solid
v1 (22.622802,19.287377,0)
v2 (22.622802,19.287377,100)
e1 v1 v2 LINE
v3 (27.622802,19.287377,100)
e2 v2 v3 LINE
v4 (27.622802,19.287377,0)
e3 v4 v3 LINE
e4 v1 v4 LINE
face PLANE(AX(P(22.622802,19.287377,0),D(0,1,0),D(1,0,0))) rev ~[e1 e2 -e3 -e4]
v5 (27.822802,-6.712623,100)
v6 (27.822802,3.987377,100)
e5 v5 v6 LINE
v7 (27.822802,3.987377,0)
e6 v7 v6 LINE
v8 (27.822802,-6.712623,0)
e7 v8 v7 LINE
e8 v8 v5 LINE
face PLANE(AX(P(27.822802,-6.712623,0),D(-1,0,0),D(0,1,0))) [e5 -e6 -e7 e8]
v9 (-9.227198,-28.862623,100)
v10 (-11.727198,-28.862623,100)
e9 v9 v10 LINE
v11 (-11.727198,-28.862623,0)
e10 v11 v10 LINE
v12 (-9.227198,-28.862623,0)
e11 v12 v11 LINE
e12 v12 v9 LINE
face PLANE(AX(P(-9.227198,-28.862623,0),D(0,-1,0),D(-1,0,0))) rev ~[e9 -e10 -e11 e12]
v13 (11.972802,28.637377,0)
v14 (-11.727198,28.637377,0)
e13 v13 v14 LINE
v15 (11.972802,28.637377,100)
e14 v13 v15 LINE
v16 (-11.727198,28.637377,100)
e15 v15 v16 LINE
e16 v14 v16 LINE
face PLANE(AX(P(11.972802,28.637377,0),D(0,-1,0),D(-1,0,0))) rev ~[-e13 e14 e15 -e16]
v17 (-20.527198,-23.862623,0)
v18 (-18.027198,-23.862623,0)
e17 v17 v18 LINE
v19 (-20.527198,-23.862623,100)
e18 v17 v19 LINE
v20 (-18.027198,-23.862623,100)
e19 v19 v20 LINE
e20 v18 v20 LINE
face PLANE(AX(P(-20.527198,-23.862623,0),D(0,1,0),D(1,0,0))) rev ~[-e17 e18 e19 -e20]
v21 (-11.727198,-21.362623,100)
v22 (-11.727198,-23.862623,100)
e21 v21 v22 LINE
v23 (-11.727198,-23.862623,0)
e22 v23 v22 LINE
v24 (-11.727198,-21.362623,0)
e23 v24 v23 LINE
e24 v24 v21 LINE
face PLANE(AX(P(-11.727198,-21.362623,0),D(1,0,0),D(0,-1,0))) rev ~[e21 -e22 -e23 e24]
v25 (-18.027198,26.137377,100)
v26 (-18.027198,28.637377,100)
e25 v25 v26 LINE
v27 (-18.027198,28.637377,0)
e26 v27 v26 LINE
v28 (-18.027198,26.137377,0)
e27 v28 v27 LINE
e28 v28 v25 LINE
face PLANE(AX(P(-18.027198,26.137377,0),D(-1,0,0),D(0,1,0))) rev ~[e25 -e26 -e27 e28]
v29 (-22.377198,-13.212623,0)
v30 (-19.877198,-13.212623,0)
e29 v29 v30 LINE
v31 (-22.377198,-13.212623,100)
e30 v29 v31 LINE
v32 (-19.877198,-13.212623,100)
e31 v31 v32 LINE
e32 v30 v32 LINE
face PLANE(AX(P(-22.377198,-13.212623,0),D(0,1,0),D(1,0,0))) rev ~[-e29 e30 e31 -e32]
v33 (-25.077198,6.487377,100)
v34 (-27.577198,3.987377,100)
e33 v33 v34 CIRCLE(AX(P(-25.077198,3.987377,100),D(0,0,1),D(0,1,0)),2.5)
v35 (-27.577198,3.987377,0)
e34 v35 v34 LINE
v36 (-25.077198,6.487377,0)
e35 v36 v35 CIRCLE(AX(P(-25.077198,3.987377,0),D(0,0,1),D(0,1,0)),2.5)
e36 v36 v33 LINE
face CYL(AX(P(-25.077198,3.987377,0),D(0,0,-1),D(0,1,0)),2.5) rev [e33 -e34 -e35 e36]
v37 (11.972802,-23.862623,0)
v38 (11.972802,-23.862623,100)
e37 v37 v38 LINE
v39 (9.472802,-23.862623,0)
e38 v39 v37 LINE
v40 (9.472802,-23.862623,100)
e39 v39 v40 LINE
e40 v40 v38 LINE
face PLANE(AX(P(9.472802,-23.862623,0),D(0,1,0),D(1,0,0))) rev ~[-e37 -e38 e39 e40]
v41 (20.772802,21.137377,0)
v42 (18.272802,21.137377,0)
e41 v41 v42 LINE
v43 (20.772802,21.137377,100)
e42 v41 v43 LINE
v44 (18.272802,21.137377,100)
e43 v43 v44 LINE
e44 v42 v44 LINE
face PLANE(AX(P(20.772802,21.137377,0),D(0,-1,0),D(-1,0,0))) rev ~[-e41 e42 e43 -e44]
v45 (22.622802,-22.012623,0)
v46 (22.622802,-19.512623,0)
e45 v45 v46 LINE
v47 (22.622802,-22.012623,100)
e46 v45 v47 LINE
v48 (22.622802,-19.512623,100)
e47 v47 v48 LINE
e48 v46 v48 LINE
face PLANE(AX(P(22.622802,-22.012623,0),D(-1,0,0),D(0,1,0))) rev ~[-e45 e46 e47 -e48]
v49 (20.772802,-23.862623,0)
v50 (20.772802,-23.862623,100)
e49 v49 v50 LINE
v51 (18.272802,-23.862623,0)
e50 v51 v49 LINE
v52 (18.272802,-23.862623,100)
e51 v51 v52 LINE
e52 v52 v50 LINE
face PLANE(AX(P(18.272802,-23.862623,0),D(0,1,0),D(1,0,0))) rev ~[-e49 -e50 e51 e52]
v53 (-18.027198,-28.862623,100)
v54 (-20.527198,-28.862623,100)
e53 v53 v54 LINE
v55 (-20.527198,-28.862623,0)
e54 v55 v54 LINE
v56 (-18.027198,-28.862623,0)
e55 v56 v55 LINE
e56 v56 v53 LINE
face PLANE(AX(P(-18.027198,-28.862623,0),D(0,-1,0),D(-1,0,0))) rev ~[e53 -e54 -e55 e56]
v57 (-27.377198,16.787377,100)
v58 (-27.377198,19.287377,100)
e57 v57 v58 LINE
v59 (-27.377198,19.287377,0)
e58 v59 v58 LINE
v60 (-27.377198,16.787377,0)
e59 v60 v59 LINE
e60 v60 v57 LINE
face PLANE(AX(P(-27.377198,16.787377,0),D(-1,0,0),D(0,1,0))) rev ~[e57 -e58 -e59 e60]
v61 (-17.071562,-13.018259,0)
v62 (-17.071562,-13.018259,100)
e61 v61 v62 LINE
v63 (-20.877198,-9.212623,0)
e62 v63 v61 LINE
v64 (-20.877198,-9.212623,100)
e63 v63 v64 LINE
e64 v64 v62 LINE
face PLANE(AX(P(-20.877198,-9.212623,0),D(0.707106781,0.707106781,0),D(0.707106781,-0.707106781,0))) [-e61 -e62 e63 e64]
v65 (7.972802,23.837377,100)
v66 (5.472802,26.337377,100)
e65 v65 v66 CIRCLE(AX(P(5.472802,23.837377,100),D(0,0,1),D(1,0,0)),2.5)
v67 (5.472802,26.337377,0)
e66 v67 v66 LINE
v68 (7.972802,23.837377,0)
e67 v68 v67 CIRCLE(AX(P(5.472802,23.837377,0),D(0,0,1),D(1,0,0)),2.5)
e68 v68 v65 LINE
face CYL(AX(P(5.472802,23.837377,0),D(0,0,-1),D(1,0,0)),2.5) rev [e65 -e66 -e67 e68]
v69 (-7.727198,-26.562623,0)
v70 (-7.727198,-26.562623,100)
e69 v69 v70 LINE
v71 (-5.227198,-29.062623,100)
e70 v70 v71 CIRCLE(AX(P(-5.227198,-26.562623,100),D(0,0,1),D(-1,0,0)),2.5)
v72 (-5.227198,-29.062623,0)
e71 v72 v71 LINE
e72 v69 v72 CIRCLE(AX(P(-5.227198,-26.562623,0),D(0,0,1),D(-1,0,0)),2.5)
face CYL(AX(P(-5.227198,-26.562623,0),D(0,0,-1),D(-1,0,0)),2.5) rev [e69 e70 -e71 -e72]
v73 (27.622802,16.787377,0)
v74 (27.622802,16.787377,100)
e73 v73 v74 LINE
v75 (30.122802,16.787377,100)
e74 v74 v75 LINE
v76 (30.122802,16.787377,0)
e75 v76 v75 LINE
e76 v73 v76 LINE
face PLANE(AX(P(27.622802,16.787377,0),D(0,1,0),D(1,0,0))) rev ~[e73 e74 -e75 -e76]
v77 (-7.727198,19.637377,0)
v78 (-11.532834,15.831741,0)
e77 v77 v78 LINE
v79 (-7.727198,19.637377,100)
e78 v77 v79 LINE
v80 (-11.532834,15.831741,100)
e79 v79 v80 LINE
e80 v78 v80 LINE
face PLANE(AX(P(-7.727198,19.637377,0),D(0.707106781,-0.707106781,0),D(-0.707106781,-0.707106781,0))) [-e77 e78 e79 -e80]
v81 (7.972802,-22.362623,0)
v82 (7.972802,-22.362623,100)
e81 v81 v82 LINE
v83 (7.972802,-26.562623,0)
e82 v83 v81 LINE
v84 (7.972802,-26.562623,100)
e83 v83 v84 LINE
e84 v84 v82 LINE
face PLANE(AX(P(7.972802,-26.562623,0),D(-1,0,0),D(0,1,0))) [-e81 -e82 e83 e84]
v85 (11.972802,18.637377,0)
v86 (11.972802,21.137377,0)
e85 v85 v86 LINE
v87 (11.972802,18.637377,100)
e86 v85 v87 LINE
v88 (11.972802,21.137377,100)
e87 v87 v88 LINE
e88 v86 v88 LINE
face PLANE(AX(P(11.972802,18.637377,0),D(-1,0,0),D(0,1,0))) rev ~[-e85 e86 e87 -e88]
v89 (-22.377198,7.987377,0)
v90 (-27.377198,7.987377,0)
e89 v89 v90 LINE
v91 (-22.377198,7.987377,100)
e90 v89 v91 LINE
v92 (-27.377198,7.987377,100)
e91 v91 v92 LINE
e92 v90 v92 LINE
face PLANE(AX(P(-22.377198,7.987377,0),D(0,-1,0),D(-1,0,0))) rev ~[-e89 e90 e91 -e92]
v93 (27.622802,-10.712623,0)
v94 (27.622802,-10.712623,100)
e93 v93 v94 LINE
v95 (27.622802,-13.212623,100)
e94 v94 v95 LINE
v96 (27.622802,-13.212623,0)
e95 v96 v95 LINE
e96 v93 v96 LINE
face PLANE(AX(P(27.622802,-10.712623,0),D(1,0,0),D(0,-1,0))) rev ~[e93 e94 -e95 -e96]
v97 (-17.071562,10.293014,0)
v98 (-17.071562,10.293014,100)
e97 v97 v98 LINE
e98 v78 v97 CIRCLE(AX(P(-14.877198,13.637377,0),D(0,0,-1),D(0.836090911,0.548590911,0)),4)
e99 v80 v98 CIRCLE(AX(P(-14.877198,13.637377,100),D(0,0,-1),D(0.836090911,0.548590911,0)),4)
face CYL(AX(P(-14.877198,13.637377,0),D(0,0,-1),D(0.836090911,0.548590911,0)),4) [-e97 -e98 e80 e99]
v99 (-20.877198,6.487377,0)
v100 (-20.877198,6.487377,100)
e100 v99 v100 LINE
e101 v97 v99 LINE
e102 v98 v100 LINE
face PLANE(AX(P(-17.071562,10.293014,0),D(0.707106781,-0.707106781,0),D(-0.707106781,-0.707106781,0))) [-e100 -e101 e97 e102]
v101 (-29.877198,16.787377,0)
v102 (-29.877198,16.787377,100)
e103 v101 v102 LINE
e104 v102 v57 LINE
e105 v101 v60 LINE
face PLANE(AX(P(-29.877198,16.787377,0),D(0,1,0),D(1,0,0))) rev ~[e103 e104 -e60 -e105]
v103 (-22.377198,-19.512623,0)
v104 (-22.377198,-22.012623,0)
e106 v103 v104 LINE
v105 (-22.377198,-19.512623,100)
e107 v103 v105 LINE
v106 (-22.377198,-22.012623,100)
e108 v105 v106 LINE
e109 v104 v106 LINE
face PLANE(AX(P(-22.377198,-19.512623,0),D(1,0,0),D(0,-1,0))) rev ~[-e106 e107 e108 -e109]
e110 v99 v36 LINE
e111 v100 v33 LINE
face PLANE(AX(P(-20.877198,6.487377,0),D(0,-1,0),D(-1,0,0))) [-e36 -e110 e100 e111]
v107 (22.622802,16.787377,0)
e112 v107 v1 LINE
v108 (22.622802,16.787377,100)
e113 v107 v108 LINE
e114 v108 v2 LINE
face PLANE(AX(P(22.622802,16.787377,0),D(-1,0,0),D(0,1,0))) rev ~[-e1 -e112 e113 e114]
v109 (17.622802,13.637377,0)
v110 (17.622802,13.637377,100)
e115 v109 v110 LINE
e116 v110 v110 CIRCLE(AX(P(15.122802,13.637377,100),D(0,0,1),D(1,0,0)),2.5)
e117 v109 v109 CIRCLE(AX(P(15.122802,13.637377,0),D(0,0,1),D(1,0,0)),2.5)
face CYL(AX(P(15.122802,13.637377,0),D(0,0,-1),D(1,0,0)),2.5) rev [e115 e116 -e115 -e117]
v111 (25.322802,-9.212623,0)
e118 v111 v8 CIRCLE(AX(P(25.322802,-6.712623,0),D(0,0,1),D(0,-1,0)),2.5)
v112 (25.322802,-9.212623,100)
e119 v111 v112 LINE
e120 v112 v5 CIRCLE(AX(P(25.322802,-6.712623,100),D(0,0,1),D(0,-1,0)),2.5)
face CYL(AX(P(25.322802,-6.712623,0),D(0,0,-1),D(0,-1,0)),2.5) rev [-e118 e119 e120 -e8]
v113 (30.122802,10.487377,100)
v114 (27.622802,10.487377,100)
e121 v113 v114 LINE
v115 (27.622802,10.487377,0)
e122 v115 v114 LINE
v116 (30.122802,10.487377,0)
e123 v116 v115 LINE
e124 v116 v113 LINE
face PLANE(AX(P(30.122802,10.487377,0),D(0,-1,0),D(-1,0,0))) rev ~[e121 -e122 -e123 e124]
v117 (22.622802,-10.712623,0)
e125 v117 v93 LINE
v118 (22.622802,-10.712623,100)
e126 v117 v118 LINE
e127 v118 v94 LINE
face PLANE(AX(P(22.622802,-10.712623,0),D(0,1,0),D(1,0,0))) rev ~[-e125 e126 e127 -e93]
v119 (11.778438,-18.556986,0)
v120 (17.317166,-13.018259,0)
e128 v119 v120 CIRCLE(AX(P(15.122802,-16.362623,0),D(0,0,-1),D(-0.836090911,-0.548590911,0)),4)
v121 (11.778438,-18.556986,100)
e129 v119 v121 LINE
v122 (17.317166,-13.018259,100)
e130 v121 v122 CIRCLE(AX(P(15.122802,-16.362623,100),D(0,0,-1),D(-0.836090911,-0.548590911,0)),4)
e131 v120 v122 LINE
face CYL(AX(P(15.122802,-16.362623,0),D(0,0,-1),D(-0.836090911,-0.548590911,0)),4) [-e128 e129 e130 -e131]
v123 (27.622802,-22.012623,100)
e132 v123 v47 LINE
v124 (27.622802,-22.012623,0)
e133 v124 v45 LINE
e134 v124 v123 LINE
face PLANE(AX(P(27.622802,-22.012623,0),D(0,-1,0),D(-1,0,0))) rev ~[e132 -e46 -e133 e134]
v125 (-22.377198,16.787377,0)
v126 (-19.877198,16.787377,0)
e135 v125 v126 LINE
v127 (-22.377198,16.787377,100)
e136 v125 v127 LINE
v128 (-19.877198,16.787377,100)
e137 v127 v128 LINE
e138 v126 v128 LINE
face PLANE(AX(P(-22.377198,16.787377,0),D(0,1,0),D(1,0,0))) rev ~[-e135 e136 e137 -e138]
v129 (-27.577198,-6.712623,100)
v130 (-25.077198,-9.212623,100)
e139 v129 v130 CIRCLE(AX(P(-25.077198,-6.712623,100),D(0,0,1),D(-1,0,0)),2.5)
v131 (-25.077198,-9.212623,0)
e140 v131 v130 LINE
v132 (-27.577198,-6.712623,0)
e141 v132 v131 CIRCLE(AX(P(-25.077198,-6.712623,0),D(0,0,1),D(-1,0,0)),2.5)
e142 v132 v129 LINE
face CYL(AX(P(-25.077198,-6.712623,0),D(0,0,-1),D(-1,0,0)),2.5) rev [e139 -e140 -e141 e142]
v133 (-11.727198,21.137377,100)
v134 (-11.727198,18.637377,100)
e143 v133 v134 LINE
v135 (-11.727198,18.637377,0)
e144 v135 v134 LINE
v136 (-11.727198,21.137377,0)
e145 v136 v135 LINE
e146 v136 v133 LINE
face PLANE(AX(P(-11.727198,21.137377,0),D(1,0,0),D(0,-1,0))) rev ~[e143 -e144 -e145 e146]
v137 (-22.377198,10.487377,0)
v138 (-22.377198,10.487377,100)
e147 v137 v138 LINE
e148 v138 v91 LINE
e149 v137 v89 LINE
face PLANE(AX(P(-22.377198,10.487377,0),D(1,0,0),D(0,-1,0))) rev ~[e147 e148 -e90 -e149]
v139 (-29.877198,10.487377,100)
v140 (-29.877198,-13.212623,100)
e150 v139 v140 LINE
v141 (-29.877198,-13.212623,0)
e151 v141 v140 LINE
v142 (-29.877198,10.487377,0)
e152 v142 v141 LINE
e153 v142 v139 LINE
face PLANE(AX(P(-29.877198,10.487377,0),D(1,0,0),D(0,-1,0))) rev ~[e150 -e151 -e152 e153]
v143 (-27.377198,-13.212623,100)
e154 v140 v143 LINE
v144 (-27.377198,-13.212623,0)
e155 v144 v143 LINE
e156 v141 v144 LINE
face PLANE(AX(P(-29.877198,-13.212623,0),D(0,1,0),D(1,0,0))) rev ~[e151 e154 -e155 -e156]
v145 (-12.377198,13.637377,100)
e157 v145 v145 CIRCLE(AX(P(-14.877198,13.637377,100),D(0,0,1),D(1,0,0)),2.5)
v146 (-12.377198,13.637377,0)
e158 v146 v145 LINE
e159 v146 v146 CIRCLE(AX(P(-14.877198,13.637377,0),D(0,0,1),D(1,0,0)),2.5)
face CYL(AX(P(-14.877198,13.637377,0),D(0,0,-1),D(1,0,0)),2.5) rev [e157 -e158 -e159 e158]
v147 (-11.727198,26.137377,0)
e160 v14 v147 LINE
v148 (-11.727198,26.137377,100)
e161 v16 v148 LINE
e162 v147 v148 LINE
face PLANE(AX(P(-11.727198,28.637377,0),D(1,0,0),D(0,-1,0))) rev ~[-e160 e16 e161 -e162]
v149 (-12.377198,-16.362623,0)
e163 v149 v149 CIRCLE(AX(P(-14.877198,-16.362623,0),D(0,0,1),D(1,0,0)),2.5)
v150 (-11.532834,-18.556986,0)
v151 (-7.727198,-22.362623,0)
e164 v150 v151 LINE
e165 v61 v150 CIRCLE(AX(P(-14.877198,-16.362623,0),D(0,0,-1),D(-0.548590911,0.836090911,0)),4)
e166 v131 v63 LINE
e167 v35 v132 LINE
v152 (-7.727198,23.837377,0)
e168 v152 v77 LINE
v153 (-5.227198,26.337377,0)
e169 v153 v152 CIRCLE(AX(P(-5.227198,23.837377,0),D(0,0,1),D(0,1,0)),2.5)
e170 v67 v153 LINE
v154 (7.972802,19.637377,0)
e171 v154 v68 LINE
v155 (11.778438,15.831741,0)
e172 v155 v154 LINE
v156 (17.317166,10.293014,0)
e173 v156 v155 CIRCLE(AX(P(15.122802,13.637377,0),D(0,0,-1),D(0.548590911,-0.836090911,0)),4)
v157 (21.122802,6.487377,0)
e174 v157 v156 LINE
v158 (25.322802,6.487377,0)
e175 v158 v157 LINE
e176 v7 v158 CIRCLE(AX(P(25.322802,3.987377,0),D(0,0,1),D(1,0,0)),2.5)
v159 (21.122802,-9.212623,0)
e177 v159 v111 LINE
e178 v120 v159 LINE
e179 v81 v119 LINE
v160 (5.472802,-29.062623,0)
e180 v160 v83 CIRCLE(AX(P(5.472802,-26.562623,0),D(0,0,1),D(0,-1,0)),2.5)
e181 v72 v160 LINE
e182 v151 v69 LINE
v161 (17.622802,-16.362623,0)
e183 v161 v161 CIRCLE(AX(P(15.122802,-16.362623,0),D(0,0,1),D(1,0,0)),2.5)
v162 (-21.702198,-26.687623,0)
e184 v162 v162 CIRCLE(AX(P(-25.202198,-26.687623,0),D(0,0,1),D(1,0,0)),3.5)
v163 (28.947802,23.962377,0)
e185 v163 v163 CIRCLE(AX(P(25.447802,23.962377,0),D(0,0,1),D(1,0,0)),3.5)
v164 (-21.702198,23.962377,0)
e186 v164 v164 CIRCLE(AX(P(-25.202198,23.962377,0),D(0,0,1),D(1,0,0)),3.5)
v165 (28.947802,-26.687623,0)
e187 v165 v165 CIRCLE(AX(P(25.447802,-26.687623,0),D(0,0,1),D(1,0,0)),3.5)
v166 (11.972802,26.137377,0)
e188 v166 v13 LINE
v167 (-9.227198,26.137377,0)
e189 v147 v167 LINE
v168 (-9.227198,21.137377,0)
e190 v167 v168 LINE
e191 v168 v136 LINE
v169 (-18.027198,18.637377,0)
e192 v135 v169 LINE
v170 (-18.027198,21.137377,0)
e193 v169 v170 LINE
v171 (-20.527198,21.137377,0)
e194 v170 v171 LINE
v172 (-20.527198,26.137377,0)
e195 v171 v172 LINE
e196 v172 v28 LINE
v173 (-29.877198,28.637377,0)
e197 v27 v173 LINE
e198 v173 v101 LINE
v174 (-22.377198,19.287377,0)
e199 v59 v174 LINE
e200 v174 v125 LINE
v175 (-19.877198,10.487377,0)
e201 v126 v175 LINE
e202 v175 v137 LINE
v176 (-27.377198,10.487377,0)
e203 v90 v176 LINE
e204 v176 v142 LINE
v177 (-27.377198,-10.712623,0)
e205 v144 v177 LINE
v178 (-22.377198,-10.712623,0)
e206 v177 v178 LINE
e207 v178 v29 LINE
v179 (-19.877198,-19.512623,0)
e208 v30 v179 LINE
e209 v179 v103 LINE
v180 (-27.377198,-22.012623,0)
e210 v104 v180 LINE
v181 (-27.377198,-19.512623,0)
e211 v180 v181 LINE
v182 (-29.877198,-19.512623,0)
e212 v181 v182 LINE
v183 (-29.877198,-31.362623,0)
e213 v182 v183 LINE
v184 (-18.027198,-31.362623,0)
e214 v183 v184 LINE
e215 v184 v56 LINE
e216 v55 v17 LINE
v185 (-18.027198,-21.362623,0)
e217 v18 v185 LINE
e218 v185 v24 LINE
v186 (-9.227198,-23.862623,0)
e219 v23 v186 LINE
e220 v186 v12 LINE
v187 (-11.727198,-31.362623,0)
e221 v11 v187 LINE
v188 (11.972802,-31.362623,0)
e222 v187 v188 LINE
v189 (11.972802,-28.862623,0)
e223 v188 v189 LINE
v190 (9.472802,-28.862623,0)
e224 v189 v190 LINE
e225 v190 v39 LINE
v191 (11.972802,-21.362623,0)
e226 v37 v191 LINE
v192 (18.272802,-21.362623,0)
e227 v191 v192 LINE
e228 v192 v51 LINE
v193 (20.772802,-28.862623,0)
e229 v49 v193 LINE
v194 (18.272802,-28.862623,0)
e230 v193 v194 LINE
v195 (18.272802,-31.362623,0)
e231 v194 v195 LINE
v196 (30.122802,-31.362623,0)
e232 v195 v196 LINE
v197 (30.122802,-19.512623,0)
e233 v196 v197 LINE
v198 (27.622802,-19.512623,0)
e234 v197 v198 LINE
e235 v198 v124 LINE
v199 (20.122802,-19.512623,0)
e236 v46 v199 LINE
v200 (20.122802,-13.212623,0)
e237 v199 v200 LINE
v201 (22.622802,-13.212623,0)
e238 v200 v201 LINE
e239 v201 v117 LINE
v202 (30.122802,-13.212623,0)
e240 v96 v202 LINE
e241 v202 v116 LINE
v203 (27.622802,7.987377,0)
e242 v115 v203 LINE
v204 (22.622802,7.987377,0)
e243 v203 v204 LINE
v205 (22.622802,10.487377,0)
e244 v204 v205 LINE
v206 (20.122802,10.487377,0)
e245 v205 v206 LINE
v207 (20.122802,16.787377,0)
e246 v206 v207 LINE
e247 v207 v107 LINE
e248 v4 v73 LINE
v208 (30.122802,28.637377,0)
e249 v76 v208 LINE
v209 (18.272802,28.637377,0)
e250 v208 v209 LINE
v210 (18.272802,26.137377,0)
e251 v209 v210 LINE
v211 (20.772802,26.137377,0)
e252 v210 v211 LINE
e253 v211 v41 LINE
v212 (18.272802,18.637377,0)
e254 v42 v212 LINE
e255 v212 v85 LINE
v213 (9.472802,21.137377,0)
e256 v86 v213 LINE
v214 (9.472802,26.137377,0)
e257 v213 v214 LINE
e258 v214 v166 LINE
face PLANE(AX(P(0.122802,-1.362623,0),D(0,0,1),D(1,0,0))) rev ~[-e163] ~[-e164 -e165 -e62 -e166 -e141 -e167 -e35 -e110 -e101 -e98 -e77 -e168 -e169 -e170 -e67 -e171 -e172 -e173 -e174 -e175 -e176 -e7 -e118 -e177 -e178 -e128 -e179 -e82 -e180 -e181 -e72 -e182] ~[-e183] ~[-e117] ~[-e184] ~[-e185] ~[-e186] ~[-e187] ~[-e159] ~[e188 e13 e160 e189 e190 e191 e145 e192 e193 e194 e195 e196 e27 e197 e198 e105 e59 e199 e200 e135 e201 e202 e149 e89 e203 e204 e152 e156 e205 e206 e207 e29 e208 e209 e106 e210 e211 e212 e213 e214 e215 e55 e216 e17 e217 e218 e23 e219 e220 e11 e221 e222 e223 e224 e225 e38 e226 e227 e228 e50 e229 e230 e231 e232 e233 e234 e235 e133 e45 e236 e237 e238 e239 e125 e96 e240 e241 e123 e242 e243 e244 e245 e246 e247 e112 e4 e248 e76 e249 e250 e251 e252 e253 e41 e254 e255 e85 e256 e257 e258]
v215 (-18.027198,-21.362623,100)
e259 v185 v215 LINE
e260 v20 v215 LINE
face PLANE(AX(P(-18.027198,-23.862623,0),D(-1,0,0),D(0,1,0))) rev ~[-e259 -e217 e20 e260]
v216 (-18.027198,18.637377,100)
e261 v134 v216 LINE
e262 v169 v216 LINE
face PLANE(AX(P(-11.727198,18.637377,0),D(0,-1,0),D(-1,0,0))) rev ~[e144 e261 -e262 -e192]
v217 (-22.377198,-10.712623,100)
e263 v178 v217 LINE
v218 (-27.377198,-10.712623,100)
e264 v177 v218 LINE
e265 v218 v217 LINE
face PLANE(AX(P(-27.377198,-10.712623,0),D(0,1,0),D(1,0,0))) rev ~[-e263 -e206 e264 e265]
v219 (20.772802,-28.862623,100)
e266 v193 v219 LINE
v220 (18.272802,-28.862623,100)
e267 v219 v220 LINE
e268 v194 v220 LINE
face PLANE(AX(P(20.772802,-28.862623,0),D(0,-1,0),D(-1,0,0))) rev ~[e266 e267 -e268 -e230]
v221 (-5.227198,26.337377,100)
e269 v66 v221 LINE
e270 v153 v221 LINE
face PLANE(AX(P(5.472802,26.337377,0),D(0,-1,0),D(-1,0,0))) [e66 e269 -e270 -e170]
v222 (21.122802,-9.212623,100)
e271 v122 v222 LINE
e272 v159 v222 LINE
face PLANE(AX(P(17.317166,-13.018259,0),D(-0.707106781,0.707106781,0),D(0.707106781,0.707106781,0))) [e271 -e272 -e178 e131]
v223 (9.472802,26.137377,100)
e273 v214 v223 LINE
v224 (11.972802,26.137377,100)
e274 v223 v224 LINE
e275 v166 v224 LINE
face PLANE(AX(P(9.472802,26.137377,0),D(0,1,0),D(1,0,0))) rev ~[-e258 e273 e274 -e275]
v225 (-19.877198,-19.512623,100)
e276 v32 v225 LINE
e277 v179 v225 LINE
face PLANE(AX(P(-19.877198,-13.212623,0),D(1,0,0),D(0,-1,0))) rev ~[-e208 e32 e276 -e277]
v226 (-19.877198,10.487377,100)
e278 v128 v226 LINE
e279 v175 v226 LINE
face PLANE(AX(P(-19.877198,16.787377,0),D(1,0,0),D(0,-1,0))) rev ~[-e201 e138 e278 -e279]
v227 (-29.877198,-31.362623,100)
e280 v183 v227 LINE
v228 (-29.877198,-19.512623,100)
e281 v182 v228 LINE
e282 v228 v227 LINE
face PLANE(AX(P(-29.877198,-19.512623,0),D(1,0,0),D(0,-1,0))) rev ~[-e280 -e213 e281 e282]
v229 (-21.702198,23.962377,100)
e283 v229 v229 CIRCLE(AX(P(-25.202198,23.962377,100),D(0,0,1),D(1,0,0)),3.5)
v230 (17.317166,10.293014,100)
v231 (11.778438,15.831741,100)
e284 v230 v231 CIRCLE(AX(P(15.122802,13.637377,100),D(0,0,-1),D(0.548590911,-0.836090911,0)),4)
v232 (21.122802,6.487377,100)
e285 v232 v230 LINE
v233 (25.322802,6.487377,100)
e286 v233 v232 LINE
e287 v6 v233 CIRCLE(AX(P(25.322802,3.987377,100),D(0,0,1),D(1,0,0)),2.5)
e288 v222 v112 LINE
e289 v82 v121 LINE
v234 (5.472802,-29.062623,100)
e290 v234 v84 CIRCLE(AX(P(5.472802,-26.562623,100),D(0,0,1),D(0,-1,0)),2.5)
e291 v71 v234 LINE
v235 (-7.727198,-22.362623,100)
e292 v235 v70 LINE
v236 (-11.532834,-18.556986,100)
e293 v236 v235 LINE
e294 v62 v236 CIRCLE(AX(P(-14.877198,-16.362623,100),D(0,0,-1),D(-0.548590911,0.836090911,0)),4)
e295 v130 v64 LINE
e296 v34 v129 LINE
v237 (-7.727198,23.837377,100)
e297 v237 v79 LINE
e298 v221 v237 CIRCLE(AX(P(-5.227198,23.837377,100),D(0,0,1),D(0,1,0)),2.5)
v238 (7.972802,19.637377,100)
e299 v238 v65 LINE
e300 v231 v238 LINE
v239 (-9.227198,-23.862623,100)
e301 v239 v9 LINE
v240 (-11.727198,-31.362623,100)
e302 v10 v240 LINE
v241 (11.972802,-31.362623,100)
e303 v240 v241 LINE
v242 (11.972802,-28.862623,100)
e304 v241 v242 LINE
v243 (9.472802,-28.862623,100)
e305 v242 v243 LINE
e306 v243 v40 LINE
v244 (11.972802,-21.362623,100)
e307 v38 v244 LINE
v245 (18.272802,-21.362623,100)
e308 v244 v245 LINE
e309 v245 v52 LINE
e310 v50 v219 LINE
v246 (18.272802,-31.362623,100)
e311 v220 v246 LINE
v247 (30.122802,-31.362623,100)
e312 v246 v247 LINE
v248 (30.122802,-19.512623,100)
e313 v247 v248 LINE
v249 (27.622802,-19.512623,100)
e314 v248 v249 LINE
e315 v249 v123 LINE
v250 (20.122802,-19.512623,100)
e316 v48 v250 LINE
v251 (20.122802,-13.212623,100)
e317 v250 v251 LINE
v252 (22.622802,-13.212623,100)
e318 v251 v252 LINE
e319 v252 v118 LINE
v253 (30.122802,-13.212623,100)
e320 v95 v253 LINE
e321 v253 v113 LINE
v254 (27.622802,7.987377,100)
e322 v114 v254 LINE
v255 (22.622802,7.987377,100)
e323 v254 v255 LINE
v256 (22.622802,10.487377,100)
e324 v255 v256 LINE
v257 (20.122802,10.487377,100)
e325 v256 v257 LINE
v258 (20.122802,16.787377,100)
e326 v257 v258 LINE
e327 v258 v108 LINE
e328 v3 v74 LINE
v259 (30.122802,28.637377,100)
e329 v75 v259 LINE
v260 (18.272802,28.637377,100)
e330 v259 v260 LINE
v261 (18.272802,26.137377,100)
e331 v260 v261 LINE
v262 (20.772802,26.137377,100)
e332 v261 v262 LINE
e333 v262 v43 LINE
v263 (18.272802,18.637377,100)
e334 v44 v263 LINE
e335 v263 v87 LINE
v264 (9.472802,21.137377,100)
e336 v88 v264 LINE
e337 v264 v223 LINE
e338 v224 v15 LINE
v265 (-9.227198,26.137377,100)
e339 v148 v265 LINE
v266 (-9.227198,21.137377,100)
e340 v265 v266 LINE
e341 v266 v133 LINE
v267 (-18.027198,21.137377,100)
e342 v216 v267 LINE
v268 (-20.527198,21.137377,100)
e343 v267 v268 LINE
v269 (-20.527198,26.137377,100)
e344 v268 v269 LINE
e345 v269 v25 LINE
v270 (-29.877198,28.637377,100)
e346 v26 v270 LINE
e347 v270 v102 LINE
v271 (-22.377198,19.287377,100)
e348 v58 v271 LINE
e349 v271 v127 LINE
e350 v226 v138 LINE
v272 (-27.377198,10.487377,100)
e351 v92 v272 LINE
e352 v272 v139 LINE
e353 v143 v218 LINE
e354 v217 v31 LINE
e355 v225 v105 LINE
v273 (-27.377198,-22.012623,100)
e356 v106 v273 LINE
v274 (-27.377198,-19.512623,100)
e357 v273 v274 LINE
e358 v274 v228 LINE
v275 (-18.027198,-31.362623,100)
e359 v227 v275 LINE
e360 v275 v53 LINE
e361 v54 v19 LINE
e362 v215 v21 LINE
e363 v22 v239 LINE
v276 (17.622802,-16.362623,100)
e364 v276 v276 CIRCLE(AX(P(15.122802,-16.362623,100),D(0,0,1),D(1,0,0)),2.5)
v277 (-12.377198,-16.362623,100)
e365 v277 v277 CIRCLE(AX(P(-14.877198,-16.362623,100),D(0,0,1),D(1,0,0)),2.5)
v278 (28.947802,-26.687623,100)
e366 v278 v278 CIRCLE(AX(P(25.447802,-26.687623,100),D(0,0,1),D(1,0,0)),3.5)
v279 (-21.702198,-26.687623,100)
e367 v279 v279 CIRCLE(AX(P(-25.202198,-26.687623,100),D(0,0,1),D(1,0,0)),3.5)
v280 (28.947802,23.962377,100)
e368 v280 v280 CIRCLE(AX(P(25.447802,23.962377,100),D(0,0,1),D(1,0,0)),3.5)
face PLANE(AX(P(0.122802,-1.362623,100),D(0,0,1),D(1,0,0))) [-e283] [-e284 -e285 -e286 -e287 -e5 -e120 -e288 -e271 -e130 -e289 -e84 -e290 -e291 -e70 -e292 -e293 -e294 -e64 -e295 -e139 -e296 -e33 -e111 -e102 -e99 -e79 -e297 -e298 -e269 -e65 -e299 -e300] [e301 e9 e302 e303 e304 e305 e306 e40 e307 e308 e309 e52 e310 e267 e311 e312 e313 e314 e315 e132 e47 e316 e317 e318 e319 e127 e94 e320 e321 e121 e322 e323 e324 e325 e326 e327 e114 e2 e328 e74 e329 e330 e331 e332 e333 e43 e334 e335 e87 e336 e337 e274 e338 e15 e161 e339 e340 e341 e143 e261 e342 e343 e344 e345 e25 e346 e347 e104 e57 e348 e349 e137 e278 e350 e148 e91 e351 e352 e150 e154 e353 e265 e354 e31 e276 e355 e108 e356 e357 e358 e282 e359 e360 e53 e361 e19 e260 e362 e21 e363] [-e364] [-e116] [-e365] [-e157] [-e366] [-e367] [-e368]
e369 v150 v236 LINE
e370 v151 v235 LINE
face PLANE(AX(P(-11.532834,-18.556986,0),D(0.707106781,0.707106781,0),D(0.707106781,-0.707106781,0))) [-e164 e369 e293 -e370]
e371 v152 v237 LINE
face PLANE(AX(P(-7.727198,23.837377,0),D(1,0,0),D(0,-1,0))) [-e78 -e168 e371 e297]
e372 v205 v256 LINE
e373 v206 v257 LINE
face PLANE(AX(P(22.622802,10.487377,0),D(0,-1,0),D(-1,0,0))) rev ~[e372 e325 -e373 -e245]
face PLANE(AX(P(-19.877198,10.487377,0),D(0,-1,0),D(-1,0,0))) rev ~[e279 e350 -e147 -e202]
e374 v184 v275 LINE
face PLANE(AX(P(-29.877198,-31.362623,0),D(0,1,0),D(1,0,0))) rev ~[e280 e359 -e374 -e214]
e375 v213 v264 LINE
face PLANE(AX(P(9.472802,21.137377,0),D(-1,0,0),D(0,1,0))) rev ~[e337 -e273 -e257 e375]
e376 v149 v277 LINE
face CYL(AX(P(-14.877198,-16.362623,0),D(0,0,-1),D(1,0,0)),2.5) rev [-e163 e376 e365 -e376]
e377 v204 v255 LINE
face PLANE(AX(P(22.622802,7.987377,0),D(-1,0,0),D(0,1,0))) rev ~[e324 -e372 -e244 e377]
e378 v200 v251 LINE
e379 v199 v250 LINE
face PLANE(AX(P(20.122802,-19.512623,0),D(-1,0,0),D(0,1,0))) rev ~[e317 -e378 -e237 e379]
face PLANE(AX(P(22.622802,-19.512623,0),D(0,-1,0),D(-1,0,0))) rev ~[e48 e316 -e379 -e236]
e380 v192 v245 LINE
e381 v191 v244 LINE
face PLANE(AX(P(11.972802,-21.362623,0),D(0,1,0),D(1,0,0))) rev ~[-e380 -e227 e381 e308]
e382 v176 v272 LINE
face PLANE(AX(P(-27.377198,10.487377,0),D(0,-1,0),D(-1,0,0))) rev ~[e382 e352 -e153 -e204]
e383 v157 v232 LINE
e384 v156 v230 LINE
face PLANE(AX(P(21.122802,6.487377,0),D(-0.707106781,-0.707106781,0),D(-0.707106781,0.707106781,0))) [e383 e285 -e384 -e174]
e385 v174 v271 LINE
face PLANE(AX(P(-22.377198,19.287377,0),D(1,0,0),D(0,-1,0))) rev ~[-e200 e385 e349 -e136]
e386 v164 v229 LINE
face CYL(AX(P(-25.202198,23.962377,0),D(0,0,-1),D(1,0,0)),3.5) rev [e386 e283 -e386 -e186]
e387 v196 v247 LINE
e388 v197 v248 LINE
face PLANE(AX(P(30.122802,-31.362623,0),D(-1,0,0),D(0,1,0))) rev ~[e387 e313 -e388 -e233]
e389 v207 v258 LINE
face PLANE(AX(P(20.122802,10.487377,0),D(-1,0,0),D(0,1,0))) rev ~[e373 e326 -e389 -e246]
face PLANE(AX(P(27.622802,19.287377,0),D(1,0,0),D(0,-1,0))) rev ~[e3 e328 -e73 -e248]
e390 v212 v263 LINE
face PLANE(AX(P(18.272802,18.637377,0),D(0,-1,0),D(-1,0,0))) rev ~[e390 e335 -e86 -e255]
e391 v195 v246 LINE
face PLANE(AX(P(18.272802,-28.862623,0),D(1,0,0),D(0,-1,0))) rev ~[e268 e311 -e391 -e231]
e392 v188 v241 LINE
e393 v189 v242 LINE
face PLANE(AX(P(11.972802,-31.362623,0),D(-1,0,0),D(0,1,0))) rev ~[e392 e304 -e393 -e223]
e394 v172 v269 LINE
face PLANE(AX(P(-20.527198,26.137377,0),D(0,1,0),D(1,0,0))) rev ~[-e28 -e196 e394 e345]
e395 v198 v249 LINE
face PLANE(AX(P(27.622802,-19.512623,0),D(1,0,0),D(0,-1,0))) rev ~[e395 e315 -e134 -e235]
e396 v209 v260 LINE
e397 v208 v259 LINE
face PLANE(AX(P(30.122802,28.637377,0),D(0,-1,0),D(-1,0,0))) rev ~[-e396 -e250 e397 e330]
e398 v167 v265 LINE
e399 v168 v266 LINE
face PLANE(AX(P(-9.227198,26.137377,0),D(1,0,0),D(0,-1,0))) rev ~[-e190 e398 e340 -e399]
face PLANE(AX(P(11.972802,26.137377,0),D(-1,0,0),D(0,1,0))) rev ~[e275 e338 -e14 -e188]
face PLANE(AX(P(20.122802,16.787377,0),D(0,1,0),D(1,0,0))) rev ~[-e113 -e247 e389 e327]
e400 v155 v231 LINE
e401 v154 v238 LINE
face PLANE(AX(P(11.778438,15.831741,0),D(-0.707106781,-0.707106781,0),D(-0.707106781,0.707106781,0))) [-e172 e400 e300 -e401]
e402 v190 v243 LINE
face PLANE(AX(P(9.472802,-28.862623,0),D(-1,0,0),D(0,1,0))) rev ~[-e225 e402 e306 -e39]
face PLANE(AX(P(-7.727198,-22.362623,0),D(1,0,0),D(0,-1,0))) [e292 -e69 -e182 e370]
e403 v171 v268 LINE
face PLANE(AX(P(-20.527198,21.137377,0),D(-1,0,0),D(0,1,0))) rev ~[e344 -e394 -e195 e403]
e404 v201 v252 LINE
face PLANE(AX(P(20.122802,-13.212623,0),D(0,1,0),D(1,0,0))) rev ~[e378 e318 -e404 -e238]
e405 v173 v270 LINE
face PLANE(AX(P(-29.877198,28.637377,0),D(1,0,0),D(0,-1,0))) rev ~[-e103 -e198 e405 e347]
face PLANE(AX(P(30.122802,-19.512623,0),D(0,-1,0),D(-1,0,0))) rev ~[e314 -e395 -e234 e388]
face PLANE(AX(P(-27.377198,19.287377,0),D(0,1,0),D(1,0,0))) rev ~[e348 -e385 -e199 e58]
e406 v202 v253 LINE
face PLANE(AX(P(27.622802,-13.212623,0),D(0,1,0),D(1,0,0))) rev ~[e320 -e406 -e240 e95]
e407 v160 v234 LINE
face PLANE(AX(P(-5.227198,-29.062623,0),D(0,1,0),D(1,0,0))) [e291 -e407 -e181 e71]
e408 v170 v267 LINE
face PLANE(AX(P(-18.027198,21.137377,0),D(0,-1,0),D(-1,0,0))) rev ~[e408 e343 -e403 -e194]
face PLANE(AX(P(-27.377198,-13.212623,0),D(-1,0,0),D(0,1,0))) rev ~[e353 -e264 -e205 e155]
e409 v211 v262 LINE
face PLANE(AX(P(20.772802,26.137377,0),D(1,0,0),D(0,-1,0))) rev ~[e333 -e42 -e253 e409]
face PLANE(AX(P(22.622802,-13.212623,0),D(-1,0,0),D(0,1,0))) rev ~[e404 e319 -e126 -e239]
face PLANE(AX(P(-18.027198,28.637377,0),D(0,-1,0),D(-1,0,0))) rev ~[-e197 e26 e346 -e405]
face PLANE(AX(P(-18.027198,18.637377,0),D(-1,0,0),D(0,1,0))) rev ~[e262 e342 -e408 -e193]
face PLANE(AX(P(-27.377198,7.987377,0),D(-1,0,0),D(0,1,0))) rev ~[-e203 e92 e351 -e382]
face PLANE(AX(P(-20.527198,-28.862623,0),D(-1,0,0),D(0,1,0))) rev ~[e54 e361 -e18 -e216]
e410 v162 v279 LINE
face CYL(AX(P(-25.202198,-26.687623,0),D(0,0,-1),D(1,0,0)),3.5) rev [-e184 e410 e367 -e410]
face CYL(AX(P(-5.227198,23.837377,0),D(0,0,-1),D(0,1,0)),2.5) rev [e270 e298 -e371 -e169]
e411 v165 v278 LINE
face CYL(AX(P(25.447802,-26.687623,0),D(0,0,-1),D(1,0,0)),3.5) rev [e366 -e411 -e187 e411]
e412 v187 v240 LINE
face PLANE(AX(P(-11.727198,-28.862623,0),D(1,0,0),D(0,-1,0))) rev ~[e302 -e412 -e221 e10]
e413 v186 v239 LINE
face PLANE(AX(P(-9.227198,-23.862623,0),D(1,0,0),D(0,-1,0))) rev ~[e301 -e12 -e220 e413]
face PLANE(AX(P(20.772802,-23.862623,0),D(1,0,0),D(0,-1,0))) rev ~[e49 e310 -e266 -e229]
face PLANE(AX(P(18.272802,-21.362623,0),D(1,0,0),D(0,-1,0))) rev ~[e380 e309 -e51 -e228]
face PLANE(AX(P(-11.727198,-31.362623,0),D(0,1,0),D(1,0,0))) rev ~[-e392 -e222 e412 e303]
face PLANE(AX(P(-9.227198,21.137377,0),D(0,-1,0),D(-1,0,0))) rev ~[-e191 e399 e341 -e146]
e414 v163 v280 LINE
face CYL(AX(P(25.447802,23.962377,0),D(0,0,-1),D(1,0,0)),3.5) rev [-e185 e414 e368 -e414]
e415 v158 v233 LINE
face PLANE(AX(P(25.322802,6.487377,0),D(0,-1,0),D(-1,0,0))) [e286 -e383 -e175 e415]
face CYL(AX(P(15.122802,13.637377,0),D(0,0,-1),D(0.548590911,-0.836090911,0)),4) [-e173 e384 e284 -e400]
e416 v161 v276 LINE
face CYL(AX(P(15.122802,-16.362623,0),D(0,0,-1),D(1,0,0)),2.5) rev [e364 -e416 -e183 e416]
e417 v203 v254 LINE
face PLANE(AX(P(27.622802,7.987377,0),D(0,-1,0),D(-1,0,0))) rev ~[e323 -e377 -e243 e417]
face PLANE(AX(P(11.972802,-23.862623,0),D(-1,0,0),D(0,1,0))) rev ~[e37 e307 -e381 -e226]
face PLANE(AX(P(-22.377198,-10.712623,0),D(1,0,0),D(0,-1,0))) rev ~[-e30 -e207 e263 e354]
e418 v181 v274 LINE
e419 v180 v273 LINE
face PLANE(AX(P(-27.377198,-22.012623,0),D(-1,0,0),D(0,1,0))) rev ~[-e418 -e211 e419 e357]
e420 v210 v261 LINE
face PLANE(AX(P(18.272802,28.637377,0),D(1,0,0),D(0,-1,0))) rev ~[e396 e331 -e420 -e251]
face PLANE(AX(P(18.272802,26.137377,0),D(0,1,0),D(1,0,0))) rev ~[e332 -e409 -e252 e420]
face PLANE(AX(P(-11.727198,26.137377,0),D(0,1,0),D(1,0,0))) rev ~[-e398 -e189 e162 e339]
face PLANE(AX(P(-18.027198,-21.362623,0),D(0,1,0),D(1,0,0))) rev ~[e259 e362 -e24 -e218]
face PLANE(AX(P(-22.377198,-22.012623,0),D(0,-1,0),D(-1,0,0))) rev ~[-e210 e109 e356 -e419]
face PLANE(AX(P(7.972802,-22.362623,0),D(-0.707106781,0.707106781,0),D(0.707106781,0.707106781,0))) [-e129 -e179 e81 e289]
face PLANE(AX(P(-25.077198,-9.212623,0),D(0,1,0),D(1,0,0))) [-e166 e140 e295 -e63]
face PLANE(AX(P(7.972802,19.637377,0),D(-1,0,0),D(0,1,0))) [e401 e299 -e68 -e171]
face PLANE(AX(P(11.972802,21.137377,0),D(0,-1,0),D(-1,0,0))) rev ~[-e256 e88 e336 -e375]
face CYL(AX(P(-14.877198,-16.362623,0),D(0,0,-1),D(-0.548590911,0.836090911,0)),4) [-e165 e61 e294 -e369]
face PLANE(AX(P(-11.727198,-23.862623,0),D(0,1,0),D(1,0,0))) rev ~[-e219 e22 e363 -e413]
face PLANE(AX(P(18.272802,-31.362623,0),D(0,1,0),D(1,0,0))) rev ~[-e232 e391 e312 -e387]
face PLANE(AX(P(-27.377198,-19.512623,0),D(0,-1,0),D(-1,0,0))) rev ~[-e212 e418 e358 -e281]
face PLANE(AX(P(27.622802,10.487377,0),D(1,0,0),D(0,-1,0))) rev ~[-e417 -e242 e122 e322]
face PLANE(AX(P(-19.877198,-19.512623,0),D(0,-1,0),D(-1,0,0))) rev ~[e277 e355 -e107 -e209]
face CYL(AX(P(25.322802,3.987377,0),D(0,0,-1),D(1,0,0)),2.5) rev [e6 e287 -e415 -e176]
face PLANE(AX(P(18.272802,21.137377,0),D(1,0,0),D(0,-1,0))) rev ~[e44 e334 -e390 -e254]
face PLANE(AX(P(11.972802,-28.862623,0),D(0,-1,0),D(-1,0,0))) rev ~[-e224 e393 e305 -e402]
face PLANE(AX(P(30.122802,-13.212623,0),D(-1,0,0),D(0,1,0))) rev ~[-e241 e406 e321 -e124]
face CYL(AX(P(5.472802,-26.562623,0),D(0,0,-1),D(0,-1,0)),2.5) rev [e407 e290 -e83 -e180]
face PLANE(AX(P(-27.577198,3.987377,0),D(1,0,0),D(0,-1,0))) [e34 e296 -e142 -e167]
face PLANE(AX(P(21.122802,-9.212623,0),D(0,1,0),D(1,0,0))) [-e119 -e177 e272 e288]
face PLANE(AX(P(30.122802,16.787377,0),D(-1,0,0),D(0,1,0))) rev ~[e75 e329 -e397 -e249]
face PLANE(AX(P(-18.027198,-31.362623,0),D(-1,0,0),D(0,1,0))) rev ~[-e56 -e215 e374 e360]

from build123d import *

# Parameters (mm, degrees)
SKETCH_1_R      = 2.5
SKETCH_1_R_2    = 3.5
EXTRUDE_1_DEPTH = 100


with BuildPart() as part:
    # 草图1 → 凸台-拉伸1 (new body)
    with BuildSketch(Plane.XY):
        Polygon((-29.877197952, 10.487377279), (-29.877197952, -1.362622721), (-29.877197952, -13.212622721), (-27.377197952, -13.212622721), (-27.377197952, -10.712622721), (-22.377197952, -10.712622721), (-22.377197952, -13.212622721), (-19.877197952, -13.212622721), (-19.877197952, -19.512622721), (-22.377197952, -19.512622721), (-22.377197952, -22.012622721), (-27.377197952, -22.012622721), (-27.377197952, -19.512622721), (-29.877197952, -19.512622721), (-29.877197952, -31.362622721), (-18.027197952, -31.362622721), (-18.027197952, -28.862622721), (-20.527197952, -28.862622721), (-20.527197952, -23.862622721), (-18.027197952, -23.862622721), (-18.027197952, -21.362622721), (-11.727197952, -21.362622721), (-11.727197952, -23.862622721), (-9.227197952, -23.862622721), (-9.227197952, -28.862622721), (-11.727197952, -28.862622721), (-11.727197952, -31.362622721), (0.122802048, -31.362622721), (11.972802048, -31.362622721), (11.972802048, -28.862622721), (9.472802048, -28.862622721), (9.472802048, -23.862622721), (11.972802048, -23.862622721), (11.972802048, -21.362622721), (18.272802048, -21.362622721), (18.272802048, -23.862622721), (20.772802048, -23.862622721), (20.772802048, -28.862622721), (18.272802048, -28.862622721), (18.272802048, -31.362622721), (30.122802048, -31.362622721), (30.122802048, -19.512622721), (27.622802048, -19.512622721), (27.622802048, -22.012622721), (22.622802048, -22.012622721), (22.622802048, -19.512622721), (20.122802048, -19.512622721), (20.122802048, -13.212622721), (22.622802048, -13.212622721), (22.622802048, -10.712622721), (27.622802048, -10.712622721), (27.622802048, -13.212622721), (30.122802048, -13.212622721), (30.122802048, -1.362622721), (30.122802048, 10.487377279), (27.622802048, 10.487377279), (27.622802048, 7.987377279), (22.622802048, 7.987377279), (22.622802048, 10.487377279), (20.122802048, 10.487377279), (20.122802048, 16.787377279), (22.622802048, 16.787377279), (22.622802048, 19.287377279), (27.622802048, 19.287377279), (27.622802048, 16.787377279), (30.122802048, 16.787377279), (30.122802048, 28.637377279), (18.272802048, 28.637377279), (18.272802048, 26.137377279), (20.772802048, 26.137377279), (20.772802048, 21.137377279), (18.272802048, 21.137377279), (18.272802048, 18.637377279), (11.972802048, 18.637377279), (11.972802048, 21.137377279), (9.472802048, 21.137377279), (9.472802048, 26.137377279), (11.972802048, 26.137377279), (11.972802048, 28.637377279), (0.122802048, 28.637377279), (-11.727197952, 28.637377279), (-11.727197952, 26.137377279), (-9.227197952, 26.137377279), (-9.227197952, 21.137377279), (-11.727197952, 21.137377279), (-11.727197952, 18.637377279), (-18.027197952, 18.637377279), (-18.027197952, 21.137377279), (-20.527197952, 21.137377279), (-20.527197952, 26.137377279), (-18.027197952, 26.137377279), (-18.027197952, 28.637377279), (-29.877197952, 28.637377279), (-29.877197952, 16.787377279), (-27.377197952, 16.787377279), (-27.377197952, 19.287377279), (-22.377197952, 19.287377279), (-22.377197952, 16.787377279), (-19.877197952, 16.787377279), (-19.877197952, 10.487377279), (-22.377197952, 10.487377279), (-22.377197952, 7.987377279), (-27.377197952, 7.987377279), (-27.377197952, 10.487377279), align=None)
        with Locations((-14.877197952, 13.637377279)):
            Circle(SKETCH_1_R, mode=Mode.SUBTRACT)
        with Locations((-25.202197952, 23.962377279)):
            Circle(SKETCH_1_R_2, mode=Mode.SUBTRACT)
        with Locations((15.122802048, 13.637377279)):
            Circle(SKETCH_1_R, mode=Mode.SUBTRACT)
        with Locations((25.447802048, 23.962377279)):
            Circle(SKETCH_1_R_2, mode=Mode.SUBTRACT)
        with Locations((-14.877197952, -16.362622721)):
            Circle(SKETCH_1_R, mode=Mode.SUBTRACT)
        with Locations((-25.202197952, -26.687622721)):
            Circle(SKETCH_1_R_2, mode=Mode.SUBTRACT)
        with Locations((15.122802048, -16.362622721)):
            Circle(SKETCH_1_R, mode=Mode.SUBTRACT)
        with Locations((25.447802048, -26.687622721)):
            Circle(SKETCH_1_R_2, mode=Mode.SUBTRACT)
        with BuildLine():
            Line((0.122802048, 26.337377279), (-5.227197952, 26.337377279))
            ThreePointArc((-5.227197952, 26.337377279), (-6.994964905, 25.605144232), (-7.727197952, 23.837377279))
            Line((-7.727197952, 23.837377279), (-7.727197952, 19.637377279))
            Line((-7.727197952, 19.637377279), (-11.532834307, 15.831740924))
            ThreePointArc((-11.532834307, 15.831740924), (-12.048770828, 10.808950154), (-17.071561598, 10.293013634))
            Line((-17.071561598, 10.293013634), (-20.877197952, 6.487377279))
            Line((-20.877197952, 6.487377279), (-25.077197952, 6.487377279))
            ThreePointArc((-25.077197952, 6.487377279), (-26.844964905, 5.755144232), (-27.577197952, 3.987377279))
            Line((-27.577197952, 3.987377279), (-27.577197952, -6.712622721))
            ThreePointArc((-27.577197952, -6.712622721), (-26.844964905, -8.480389674), (-25.077197952, -9.212622721))
            Line((-25.077197952, -9.212622721), (-20.877197952, -9.212622721))
            Line((-20.877197952, -9.212622721), (-17.071561598, -13.018259076))
            ThreePointArc((-17.071561598, -13.018259076), (-12.048770828, -13.534195596), (-11.532834307, -18.556986366))
            Line((-11.532834307, -18.556986366), (-7.727197952, -22.362622721))
            Line((-7.727197952, -22.362622721), (-7.727197952, -26.562622721))
            ThreePointArc((-7.727197952, -26.562622721), (-6.994964905, -28.330389674), (-5.227197952, -29.062622721))
            Line((-5.227197952, -29.062622721), (0.122802048, -29.062622721))
            Line((0.122802048, -29.062622721), (5.472802048, -29.062622721))
            ThreePointArc((5.472802048, -29.062622721), (7.240569001, -28.330389674), (7.972802048, -26.562622721))
            Line((7.972802048, -26.562622721), (7.972802048, -22.362622721))
            Line((7.972802048, -22.362622721), (11.778438402, -18.556986366))
            ThreePointArc((11.778438402, -18.556986366), (12.294374923, -13.534195596), (17.317165693, -13.018259076))
            Line((17.317165693, -13.018259076), (21.122802048, -9.212622721))
            Line((21.122802048, -9.212622721), (25.322802048, -9.212622721))
            ThreePointArc((25.322802048, -9.212622721), (27.090569001, -8.480389674), (27.822802048, -6.712622721))
            Line((27.822802048, -6.712622721), (27.822802048, 3.987377279))
            ThreePointArc((27.822802048, 3.987377279), (27.090569001, 5.755144232), (25.322802048, 6.487377279))
            Line((25.322802048, 6.487377279), (21.122802048, 6.487377279))
            Line((21.122802048, 6.487377279), (17.317165693, 10.293013634))
            ThreePointArc((17.317165693, 10.293013634), (12.294374923, 10.808950154), (11.778438402, 15.831740924))
            Line((11.778438402, 15.831740924), (7.972802048, 19.637377279))
            Line((7.972802048, 19.637377279), (7.972802048, 23.837377279))
            ThreePointArc((7.972802048, 23.837377279), (7.240569001, 25.605144232), (5.472802048, 26.337377279))
            Line((5.472802048, 26.337377279), (0.122802048, 26.337377279))
        make_face(mode=Mode.SUBTRACT)
    extrude(amount=EXTRUDE_1_DEPTH)


solid = part.part
